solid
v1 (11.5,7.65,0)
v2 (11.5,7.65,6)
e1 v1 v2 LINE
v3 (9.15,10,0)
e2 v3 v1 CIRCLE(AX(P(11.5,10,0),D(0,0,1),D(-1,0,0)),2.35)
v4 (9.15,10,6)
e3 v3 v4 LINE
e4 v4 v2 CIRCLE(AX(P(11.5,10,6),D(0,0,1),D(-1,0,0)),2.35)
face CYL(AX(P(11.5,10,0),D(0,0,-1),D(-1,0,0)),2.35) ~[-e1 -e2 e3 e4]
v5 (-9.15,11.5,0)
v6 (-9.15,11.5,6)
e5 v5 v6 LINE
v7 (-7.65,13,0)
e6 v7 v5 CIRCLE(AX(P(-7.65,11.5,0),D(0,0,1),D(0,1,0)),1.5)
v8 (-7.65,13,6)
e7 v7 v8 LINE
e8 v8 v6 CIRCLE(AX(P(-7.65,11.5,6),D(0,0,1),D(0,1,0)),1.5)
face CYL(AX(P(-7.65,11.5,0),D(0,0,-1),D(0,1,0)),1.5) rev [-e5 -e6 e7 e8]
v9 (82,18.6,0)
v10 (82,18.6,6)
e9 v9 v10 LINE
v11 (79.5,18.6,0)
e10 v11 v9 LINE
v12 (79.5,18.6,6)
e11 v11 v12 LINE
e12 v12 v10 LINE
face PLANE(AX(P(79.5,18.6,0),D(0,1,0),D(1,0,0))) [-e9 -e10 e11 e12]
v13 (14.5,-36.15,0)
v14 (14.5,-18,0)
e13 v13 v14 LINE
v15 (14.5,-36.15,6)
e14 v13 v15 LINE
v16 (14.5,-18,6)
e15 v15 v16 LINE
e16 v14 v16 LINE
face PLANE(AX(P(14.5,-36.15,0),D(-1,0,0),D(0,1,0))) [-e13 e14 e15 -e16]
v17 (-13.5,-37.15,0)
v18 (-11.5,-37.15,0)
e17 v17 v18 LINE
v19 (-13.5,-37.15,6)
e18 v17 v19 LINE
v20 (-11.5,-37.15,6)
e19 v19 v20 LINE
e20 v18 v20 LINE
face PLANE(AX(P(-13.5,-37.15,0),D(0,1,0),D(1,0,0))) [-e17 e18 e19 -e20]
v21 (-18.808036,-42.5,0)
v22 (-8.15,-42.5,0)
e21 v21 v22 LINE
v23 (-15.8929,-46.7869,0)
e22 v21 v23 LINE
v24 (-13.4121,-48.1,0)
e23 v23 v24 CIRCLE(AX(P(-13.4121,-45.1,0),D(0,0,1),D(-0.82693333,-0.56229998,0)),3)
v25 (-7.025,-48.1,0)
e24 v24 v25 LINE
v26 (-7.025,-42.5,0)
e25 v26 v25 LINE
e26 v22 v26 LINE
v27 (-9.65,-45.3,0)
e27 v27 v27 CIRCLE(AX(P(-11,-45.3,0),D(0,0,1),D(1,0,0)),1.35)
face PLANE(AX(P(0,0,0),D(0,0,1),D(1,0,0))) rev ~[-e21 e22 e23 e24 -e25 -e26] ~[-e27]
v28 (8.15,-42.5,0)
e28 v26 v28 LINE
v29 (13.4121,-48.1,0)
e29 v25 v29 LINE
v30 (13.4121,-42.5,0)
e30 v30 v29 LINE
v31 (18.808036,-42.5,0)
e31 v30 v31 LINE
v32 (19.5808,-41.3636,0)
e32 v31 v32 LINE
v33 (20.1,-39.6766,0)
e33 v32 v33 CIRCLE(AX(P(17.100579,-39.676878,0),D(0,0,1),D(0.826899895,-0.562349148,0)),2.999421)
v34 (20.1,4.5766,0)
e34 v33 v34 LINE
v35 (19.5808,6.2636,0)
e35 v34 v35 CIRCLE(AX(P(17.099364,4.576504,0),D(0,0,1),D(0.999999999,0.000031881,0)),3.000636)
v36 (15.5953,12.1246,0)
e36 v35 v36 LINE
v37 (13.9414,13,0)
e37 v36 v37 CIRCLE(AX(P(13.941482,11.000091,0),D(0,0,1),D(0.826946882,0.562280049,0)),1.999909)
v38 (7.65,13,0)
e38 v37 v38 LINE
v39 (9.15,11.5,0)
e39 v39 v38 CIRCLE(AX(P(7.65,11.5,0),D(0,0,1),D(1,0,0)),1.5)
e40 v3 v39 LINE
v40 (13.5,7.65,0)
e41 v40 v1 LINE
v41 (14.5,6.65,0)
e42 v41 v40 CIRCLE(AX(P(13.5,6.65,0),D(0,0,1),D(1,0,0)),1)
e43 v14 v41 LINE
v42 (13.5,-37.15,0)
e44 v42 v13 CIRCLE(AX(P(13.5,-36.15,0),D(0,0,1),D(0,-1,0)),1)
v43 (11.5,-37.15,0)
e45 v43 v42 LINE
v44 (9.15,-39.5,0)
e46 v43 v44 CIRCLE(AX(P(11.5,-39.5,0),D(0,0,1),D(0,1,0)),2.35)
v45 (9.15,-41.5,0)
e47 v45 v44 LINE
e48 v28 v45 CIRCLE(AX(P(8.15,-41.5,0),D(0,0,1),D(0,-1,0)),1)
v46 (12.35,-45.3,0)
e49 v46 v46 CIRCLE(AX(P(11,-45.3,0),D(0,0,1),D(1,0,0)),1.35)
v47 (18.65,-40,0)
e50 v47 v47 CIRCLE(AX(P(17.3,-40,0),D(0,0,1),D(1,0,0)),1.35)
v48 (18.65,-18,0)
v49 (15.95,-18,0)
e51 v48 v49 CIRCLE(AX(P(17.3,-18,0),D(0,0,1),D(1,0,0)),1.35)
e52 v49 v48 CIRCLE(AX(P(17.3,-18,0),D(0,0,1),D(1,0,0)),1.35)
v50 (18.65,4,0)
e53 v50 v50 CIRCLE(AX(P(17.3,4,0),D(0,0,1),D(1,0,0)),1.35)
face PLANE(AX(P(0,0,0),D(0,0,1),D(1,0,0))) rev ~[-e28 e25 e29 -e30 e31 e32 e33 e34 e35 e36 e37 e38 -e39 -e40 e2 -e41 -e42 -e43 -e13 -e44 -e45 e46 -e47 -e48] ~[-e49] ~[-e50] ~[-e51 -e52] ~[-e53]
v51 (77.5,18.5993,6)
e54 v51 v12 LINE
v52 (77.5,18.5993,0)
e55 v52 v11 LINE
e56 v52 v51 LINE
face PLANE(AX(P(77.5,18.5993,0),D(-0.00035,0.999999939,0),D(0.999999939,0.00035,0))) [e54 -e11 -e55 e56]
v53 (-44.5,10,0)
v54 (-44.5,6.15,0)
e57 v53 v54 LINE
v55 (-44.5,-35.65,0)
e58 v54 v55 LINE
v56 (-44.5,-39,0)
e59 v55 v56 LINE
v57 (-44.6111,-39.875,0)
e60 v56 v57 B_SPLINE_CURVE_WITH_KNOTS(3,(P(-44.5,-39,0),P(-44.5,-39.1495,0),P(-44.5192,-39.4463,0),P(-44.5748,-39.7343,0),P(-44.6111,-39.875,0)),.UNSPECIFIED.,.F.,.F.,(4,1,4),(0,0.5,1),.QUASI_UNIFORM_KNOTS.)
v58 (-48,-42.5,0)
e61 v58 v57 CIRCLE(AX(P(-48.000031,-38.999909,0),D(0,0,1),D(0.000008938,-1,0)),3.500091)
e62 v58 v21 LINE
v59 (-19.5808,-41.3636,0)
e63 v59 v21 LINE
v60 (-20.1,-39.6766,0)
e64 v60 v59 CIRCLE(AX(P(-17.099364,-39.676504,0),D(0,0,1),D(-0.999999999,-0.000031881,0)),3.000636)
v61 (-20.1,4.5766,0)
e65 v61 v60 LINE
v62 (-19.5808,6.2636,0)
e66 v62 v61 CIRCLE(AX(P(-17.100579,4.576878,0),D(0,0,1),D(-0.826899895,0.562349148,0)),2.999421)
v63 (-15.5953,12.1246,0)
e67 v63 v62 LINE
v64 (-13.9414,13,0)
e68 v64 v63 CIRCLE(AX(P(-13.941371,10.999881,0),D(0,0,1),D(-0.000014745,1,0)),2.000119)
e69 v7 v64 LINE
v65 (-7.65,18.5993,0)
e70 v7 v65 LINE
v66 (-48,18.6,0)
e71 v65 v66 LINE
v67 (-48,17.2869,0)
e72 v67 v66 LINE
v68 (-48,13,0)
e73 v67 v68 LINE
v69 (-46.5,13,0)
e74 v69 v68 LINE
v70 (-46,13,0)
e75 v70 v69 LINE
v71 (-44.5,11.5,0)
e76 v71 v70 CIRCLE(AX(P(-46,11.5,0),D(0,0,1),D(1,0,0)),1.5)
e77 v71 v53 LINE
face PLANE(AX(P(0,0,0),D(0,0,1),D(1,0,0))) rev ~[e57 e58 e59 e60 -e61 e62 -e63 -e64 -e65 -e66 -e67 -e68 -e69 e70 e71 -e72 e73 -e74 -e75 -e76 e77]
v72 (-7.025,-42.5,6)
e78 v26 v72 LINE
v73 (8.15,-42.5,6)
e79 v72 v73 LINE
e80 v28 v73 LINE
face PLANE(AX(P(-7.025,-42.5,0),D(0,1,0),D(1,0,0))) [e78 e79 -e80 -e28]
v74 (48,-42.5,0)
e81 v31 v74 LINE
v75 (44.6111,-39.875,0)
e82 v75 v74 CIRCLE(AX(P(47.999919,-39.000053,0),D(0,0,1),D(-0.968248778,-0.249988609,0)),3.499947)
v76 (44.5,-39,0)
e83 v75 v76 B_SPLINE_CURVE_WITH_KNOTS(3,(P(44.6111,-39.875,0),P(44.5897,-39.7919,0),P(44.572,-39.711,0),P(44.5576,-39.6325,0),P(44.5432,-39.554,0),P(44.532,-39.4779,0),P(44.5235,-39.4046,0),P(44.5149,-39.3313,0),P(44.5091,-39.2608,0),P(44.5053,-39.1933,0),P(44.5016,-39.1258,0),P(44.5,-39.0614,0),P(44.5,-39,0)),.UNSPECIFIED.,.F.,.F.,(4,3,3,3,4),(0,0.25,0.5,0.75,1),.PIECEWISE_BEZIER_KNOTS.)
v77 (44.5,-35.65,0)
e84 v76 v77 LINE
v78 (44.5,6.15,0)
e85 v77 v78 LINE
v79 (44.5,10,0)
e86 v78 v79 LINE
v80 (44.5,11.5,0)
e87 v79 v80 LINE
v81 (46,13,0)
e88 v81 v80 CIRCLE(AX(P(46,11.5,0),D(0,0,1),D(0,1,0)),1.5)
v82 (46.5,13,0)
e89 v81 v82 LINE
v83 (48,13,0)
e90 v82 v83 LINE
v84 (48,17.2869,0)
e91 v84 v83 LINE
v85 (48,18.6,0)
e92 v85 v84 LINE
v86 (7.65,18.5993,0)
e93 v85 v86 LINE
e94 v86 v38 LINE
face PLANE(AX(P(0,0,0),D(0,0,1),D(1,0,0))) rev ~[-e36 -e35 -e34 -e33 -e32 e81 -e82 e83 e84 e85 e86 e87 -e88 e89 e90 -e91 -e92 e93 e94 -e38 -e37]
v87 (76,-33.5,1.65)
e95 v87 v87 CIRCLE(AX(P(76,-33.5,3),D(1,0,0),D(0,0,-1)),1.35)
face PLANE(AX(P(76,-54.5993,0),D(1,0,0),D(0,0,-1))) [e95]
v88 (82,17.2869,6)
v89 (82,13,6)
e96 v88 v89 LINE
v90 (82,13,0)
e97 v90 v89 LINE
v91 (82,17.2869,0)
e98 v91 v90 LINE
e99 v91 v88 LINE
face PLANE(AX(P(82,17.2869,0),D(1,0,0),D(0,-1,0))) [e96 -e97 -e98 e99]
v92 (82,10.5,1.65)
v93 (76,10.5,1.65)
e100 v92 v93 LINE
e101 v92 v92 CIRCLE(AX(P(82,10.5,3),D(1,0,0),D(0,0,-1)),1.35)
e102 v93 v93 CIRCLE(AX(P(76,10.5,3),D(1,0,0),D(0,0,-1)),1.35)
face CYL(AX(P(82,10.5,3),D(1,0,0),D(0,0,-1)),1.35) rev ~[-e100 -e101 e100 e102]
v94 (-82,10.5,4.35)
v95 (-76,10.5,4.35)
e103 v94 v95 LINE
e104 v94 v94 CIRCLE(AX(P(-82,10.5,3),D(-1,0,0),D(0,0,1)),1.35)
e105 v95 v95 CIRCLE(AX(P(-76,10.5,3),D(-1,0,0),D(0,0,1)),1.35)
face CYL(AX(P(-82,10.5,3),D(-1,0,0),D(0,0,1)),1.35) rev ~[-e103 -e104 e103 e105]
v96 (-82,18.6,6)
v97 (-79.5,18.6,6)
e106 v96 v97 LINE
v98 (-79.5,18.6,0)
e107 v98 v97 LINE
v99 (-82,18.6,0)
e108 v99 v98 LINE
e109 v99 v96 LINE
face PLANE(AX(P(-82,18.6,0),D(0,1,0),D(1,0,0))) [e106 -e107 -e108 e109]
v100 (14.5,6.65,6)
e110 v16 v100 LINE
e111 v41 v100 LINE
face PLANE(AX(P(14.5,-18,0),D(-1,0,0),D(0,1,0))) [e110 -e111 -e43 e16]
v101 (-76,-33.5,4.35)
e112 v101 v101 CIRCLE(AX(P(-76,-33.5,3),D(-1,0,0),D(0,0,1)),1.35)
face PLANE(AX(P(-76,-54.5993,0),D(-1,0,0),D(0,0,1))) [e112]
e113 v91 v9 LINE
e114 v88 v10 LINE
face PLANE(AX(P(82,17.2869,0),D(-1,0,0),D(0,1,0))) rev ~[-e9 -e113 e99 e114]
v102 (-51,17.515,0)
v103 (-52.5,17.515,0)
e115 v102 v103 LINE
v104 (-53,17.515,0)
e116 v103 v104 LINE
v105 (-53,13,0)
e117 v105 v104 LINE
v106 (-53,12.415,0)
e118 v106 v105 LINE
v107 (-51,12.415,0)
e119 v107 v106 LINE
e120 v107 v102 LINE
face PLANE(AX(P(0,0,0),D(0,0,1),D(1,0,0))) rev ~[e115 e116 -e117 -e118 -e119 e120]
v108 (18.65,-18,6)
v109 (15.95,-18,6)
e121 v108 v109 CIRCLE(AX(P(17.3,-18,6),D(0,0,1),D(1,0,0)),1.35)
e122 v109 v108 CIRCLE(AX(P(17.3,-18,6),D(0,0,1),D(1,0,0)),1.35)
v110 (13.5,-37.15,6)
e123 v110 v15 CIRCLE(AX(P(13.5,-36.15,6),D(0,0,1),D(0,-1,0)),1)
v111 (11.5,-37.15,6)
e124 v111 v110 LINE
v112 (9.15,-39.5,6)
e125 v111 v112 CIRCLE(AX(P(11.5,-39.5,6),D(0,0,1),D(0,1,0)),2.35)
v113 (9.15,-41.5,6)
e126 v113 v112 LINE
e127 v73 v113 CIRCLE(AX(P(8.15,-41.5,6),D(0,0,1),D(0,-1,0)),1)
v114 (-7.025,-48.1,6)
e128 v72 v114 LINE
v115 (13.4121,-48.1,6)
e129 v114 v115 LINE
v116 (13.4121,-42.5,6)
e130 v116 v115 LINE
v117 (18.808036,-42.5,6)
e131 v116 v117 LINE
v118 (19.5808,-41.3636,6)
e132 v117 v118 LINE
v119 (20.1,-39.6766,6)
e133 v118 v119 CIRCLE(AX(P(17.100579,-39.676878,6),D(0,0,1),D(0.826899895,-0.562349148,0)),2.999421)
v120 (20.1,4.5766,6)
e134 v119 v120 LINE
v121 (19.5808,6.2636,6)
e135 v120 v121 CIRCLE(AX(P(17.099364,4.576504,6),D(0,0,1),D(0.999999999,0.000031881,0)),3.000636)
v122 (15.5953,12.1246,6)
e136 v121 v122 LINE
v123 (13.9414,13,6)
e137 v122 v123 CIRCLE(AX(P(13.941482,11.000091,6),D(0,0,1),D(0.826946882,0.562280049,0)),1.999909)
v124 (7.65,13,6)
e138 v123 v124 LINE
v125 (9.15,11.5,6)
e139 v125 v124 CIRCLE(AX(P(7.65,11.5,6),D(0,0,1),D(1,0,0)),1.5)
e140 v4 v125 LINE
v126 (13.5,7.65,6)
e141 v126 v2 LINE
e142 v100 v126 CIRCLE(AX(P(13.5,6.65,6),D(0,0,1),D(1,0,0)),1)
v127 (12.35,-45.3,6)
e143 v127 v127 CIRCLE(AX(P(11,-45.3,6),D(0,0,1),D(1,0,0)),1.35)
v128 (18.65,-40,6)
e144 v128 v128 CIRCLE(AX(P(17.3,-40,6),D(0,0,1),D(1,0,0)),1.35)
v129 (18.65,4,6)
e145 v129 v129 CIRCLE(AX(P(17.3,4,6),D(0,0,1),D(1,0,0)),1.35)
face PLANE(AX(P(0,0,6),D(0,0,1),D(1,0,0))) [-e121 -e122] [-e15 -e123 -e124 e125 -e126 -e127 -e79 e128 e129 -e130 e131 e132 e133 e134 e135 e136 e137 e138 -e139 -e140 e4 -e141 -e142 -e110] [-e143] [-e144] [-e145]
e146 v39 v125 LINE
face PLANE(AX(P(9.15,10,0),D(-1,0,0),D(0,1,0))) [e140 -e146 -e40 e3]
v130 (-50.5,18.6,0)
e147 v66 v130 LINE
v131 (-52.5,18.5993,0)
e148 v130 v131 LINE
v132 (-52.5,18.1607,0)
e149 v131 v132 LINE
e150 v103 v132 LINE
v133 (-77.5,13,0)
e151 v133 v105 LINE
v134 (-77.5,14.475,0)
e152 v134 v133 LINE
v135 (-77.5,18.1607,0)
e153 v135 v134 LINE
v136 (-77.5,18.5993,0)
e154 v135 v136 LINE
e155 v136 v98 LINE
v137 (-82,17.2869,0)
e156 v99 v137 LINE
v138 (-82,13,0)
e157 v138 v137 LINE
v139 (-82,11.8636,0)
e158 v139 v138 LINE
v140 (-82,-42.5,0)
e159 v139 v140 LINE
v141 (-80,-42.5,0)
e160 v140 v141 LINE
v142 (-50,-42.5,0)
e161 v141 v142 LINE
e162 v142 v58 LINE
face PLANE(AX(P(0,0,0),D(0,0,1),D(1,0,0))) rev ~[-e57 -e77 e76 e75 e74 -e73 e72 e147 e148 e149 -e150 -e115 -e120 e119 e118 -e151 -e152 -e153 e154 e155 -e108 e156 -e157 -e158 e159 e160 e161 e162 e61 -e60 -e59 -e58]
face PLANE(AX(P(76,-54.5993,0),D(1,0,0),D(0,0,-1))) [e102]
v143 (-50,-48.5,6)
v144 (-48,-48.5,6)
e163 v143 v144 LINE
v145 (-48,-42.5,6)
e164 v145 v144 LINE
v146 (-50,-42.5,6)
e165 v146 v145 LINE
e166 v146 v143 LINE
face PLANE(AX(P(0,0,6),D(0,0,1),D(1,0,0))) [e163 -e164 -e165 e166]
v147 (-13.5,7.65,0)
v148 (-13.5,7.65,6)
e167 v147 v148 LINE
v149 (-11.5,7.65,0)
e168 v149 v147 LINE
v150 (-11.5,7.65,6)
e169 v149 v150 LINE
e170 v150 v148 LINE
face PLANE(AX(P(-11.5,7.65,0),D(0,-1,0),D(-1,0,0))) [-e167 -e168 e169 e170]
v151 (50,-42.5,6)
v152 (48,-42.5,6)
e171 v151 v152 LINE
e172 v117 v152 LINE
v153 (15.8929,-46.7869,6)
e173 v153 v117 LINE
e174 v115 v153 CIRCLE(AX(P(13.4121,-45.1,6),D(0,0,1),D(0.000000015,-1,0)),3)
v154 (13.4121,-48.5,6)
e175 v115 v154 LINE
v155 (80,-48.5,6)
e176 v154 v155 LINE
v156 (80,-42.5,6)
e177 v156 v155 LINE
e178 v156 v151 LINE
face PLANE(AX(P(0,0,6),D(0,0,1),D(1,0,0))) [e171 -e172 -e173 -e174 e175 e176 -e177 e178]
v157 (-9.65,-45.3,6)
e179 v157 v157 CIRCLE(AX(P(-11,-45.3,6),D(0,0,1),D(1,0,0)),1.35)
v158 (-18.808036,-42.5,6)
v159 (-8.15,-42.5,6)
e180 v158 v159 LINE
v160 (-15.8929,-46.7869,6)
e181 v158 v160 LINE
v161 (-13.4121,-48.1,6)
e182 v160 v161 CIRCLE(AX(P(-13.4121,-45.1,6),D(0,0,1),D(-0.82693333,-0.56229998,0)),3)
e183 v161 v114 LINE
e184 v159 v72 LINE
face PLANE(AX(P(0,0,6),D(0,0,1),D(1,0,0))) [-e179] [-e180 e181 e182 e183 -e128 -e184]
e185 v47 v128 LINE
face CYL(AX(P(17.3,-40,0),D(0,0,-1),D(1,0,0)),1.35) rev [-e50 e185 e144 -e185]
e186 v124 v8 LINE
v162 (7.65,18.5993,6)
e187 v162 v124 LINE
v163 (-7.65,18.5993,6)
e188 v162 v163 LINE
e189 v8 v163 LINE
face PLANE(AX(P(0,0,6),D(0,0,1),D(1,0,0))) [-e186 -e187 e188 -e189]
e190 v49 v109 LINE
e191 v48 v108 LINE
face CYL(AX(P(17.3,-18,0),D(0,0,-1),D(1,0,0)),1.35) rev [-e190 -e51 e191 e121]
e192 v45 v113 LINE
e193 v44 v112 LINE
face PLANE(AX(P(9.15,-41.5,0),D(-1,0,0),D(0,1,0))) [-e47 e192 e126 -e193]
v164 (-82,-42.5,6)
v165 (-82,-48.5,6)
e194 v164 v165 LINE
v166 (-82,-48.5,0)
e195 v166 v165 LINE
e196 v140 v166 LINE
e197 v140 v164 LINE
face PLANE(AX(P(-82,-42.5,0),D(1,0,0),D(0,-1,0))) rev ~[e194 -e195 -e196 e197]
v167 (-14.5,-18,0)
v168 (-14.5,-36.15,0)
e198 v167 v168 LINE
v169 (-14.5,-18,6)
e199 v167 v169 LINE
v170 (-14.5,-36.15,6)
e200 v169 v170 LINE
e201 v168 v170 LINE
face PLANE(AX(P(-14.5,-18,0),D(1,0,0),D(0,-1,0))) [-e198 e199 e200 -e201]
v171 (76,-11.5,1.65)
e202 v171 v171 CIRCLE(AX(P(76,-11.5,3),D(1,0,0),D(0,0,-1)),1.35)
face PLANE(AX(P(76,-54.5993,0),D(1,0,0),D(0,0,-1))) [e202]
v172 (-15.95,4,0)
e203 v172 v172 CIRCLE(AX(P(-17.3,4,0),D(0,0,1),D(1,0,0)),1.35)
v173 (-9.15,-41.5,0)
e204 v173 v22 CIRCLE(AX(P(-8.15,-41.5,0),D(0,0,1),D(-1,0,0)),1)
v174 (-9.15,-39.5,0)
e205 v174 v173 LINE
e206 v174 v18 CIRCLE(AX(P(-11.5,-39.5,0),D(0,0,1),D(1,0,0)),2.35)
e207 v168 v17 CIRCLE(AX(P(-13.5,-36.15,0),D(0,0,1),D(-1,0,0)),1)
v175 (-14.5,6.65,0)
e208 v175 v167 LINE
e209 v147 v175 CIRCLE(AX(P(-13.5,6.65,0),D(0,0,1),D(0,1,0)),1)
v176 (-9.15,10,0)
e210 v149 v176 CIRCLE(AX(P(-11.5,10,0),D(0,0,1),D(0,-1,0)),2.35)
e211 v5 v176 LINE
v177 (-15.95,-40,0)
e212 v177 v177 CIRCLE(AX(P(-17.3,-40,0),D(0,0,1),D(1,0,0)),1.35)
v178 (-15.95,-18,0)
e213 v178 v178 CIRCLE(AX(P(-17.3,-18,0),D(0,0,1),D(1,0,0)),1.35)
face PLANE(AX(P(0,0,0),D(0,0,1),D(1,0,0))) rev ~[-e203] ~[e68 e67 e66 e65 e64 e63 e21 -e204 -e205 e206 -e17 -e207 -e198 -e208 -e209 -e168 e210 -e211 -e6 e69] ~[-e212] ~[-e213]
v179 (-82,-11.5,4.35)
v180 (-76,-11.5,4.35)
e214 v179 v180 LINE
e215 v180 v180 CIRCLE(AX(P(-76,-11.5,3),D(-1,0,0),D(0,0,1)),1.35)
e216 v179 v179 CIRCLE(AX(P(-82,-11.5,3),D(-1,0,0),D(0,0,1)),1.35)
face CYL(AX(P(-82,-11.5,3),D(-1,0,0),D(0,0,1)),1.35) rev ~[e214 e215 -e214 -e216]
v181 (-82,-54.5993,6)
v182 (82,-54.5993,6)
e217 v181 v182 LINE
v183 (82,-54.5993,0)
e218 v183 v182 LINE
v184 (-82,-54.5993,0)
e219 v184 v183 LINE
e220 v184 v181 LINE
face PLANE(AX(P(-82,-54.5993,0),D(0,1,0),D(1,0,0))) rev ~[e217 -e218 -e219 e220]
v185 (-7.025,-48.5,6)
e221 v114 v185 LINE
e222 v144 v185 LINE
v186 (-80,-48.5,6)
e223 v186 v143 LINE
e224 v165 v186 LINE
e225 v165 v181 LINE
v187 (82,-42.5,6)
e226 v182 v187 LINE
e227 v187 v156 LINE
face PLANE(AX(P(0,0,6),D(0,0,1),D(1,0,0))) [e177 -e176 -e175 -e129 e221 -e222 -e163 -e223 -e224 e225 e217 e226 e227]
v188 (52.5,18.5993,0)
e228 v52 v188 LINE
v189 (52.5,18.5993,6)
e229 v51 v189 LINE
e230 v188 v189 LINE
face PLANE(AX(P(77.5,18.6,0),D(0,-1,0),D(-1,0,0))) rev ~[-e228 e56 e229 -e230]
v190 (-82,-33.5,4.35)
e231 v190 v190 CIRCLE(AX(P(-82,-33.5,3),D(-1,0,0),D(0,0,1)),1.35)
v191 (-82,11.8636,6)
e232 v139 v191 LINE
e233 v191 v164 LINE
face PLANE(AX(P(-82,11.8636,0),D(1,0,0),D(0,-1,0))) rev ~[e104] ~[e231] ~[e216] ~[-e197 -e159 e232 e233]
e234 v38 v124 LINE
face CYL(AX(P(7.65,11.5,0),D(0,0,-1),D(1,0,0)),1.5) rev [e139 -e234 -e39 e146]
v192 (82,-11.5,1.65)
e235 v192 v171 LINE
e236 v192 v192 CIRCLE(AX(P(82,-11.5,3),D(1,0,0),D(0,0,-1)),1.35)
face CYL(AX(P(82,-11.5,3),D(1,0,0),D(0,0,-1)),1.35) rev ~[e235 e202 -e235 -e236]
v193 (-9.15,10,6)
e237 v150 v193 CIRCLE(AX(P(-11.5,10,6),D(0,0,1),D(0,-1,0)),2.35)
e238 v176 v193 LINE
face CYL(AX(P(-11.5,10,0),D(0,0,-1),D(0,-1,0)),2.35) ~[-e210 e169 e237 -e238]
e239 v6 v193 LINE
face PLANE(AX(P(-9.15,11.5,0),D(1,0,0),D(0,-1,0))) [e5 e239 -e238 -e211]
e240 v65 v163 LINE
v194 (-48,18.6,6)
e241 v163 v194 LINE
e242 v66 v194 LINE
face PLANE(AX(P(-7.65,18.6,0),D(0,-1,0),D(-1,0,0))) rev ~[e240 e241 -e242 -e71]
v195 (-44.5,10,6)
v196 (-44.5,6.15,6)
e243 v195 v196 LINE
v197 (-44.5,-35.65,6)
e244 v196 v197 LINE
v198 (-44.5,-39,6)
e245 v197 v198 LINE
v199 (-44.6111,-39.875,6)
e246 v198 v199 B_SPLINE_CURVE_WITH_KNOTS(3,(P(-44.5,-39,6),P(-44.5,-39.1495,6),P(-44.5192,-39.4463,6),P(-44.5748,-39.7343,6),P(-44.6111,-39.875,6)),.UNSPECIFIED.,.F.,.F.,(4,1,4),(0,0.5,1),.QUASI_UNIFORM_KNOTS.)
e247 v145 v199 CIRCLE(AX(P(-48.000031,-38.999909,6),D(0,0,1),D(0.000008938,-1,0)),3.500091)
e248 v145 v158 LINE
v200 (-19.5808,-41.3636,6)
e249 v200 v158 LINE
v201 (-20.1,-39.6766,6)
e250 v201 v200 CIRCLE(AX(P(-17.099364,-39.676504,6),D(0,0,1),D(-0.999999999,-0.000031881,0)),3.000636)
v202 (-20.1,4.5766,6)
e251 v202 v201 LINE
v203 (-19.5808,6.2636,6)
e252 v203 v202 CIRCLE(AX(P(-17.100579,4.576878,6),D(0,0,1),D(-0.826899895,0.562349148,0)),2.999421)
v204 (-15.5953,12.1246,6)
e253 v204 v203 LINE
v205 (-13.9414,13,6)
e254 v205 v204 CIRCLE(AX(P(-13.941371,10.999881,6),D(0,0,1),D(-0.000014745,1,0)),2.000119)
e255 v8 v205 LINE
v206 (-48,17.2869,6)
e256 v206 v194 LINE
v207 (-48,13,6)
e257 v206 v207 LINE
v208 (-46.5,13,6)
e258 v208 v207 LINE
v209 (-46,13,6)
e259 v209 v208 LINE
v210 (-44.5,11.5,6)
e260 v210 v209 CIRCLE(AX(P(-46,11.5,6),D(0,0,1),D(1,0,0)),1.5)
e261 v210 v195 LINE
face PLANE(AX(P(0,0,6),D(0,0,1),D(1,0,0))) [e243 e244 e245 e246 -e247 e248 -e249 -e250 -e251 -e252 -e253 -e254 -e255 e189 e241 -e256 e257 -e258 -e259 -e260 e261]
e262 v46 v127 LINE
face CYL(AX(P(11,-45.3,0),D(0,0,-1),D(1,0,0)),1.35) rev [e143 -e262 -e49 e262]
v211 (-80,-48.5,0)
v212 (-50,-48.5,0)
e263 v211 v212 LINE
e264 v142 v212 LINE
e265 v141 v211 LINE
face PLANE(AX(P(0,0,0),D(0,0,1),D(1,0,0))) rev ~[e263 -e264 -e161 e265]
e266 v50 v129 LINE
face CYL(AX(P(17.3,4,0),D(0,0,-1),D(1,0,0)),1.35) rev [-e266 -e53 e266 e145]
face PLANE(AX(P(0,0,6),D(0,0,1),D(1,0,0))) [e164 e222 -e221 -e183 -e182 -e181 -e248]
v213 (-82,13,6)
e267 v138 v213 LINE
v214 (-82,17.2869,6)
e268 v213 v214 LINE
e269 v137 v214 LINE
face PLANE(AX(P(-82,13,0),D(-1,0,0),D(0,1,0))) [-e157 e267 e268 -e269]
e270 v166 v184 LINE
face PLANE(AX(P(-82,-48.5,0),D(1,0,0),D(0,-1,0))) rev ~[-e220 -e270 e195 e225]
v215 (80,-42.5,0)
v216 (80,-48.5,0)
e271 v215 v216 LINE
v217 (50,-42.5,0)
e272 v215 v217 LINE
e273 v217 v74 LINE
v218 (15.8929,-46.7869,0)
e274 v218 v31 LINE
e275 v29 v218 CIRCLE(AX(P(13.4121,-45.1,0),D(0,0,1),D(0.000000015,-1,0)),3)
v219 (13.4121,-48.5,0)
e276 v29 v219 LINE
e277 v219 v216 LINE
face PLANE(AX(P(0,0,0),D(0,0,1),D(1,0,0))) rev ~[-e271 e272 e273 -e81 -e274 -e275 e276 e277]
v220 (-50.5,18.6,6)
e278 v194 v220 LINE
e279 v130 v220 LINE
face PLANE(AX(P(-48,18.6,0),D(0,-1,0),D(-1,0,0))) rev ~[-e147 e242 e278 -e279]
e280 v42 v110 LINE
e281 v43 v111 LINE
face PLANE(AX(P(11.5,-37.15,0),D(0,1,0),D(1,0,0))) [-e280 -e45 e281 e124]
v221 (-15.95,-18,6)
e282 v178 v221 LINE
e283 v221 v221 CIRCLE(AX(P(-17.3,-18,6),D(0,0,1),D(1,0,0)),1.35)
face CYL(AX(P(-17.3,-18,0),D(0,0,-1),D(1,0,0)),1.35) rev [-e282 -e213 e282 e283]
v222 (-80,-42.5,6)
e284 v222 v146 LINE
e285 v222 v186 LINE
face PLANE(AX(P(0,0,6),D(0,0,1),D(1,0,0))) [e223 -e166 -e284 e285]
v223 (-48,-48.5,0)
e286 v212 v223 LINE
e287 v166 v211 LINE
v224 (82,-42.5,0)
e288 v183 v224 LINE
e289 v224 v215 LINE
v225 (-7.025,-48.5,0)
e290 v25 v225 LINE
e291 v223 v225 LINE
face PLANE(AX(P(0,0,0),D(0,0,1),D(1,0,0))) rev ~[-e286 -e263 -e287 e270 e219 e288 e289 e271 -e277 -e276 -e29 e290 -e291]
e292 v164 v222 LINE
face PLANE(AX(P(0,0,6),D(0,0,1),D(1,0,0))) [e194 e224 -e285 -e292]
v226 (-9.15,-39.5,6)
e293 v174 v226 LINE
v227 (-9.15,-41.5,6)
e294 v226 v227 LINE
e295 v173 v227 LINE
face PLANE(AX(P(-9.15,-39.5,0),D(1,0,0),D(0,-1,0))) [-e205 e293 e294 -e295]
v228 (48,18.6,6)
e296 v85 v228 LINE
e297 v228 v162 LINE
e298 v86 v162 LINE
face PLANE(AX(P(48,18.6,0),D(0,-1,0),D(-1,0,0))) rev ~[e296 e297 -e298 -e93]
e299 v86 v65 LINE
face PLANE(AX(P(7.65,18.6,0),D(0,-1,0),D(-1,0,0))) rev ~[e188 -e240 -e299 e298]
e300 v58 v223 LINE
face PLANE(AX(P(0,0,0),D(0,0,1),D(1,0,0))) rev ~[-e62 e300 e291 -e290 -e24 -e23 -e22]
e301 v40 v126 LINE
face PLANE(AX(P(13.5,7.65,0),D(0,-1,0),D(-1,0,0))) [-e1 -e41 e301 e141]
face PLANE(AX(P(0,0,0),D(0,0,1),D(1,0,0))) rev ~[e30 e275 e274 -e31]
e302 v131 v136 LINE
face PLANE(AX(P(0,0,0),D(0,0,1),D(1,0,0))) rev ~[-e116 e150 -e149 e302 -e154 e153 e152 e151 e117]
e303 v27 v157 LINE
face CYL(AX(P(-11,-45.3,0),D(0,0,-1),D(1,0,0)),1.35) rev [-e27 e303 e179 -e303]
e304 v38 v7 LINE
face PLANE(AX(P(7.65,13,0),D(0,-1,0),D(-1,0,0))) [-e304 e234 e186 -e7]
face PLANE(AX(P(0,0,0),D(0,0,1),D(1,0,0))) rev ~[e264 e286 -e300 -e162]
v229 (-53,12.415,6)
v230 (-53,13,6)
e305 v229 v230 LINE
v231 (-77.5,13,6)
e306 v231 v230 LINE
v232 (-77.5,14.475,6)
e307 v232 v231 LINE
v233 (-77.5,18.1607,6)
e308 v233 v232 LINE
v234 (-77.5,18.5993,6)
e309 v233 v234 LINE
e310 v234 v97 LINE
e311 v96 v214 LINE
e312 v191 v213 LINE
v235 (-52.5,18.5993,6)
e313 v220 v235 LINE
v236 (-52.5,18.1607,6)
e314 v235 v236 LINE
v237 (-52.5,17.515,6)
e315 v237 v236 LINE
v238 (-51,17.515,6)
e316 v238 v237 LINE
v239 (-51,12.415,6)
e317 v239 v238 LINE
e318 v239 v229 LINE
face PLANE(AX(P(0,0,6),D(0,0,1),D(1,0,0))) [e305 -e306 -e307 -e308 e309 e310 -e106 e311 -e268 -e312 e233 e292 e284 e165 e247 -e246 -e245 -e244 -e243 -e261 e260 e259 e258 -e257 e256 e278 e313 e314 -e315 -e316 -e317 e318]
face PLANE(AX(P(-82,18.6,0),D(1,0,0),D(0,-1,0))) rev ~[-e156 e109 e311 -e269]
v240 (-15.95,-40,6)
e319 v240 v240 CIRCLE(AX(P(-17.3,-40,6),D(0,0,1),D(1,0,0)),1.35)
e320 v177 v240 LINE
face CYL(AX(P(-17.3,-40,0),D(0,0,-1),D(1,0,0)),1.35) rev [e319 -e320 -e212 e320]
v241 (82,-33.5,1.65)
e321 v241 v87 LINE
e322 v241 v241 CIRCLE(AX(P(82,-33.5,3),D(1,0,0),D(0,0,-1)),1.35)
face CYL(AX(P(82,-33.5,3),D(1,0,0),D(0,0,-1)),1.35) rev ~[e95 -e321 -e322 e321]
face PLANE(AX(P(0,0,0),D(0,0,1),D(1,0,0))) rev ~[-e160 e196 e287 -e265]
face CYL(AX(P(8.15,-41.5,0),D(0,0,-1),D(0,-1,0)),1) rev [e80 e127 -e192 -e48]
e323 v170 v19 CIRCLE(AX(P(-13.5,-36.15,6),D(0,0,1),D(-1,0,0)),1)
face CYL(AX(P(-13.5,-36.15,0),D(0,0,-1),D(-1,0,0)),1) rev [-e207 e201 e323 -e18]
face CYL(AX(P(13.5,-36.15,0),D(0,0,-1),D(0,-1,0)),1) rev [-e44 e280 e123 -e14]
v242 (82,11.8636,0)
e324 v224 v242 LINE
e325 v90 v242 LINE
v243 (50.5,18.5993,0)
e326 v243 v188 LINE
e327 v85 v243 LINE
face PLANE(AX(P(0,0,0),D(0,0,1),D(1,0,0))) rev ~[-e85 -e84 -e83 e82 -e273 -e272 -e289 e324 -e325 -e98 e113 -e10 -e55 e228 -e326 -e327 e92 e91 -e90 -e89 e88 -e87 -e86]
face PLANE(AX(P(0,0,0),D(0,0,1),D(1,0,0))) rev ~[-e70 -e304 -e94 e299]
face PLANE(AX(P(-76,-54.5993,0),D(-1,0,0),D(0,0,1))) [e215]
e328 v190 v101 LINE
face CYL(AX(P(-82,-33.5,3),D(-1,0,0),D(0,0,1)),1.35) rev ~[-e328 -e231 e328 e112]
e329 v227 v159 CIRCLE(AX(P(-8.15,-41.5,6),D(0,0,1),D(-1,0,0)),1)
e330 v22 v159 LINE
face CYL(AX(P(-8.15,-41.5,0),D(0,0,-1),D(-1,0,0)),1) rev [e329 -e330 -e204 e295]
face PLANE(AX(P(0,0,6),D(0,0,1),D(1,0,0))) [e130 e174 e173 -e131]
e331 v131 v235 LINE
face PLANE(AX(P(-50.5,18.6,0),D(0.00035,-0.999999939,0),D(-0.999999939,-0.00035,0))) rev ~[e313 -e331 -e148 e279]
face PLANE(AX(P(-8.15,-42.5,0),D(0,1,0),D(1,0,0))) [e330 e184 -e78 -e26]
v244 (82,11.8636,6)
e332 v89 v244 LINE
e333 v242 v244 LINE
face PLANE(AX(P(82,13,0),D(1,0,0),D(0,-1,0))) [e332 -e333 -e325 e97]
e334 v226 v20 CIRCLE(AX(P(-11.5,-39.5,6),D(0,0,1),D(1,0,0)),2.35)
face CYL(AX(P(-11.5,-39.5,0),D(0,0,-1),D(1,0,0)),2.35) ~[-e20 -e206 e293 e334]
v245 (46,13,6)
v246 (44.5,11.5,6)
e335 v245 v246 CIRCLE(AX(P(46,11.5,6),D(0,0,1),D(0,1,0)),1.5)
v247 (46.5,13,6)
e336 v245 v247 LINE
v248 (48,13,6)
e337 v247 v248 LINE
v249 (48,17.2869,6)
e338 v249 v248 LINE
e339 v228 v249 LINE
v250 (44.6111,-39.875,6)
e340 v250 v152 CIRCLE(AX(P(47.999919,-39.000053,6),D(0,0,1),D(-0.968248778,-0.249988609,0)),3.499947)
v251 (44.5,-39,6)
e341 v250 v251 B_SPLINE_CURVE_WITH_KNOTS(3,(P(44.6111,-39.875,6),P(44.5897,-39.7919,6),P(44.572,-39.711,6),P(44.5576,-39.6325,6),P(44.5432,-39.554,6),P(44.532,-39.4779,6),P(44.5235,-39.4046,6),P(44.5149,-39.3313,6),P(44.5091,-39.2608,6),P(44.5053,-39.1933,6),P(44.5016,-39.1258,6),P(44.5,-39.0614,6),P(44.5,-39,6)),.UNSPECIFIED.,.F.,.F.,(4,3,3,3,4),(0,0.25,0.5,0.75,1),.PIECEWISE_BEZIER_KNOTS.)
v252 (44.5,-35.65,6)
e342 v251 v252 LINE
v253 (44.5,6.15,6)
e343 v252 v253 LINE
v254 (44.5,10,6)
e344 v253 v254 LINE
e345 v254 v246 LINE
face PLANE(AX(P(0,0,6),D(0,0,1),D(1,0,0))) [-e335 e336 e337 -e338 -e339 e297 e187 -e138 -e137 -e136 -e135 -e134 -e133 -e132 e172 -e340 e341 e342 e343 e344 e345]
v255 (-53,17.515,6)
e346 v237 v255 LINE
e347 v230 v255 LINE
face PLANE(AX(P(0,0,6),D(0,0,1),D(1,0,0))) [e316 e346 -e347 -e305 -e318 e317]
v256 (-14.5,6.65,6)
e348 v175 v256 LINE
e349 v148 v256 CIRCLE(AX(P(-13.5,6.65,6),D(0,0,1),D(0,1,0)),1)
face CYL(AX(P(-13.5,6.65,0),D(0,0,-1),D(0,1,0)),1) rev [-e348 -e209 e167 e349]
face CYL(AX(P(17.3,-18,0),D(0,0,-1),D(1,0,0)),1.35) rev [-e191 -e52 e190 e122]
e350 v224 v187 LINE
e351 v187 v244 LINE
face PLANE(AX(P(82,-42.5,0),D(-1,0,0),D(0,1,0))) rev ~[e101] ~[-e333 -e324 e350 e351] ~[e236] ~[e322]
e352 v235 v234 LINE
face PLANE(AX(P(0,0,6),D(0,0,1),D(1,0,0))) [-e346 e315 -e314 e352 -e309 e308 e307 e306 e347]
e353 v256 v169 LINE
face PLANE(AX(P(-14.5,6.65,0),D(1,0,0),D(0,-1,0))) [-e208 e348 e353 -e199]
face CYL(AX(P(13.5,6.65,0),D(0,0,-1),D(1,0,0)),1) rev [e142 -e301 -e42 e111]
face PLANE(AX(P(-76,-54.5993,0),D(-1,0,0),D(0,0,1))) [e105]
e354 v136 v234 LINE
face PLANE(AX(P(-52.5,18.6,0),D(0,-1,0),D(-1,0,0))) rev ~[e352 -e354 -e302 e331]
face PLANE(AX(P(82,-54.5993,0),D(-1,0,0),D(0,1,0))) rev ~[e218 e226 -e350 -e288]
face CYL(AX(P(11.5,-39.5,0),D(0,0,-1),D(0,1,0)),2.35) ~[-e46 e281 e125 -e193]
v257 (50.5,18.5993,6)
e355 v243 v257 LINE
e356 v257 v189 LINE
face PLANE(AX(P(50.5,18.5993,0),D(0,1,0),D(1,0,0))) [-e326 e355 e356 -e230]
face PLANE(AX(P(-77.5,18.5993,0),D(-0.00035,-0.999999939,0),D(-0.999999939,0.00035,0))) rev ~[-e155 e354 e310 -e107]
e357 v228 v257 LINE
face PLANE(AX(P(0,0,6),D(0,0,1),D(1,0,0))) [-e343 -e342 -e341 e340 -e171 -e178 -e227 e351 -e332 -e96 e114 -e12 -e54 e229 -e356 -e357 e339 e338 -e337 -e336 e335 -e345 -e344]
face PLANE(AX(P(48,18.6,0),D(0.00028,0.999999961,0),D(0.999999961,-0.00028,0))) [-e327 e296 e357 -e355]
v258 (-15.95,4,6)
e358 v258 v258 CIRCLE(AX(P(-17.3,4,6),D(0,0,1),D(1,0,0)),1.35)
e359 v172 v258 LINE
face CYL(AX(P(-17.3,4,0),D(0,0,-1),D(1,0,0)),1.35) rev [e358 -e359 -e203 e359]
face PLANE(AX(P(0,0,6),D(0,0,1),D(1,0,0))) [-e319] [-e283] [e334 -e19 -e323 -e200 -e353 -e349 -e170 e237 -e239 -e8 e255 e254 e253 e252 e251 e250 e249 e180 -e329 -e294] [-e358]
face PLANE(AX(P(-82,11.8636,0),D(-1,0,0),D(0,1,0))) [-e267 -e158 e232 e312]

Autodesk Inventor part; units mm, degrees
ref_plane "YZ Plane" through (0, 0, 0) normal (1, 0, 0) x (0, 1, 0)
ref_plane "XZ Plane" through (0, 0, 0) normal (0, 1, 0) x (-1, 0, 0)
ref_plane "XY Plane" through (0, 0, 0) normal (0, 0, 1) x (1, 0, 0)
ref_plane "작업 평면1" through (0, 0, 0) normal (0, 0, 1) x (1, 0, 0)
ref_plane "작업 평면2" through (0, 0, 0) normal (0, 0, 1) x (1, 0, 0)
sketch "스케치2" plane through (0, 0, 0) normal (0, 0, 1) x (1, 0, 0)
  arc A0 (20.1, 4.5766) -> (19.5808, 6.2636) centre (17.1, 4.5766) ccw projected
  line L0 (20.1, -39.6766) -> (20.1, 4.5766) projected
  arc A1 (19.5808, -41.3636) -> (20.1, -39.6766) centre (17.1, -39.6766) ccw projected
  line L1 (15.8929, -46.7869) -> (19.5808, -41.3636) projected
  arc A2 (13.4121, -48.1) -> (15.8929, -46.7869) centre (13.4121, -45.1) ccw projected
  line L2 (-13.4121, -48.1) -> (13.4121, -48.1) projected
  arc A3 (-15.8929, -46.7869) -> (-13.4121, -48.1) centre (-13.4121, -45.1) ccw projected
  line L3 (-19.5808, -41.3636) -> (-15.8929, -46.7869) projected
  arc A4 (-20.1, -39.6766) -> (-19.5808, -41.3636) centre (-17.1, -39.6766) ccw projected
  line L4 (-20.1, 4.5766) -> (-20.1, -39.6766) projected
  arc A5 (-19.5808, 6.2636) -> (-20.1, 4.5766) centre (-17.1, 4.5766) ccw projected
  line L5 (-15.5953, 12.1246) -> (-19.5808, 6.2636) projected
  arc A6 (-13.9414, 13) -> (-15.5953, 12.1246) centre (-13.9414, 11) ccw projected
  line L6 (-7.65, 13) -> (-13.9414, 13) projected
  arc A7 (-7.65, 13) -> (-9.15, 11.5) centre (-7.65, 11.5) ccw projected
  line L7 (-9.15, 11.5) -> (-9.15, 10) projected
  arc A8 (-11.5, 7.65) -> (-9.15, 10) centre (-11.5, 10) ccw projected
  line L8 (-11.5, 7.65) -> (-13.5, 7.65) projected
  arc A9 (-13.5, 7.65) -> (-14.5, 6.65) centre (-13.5, 6.65) ccw projected
  line L9 (-14.5, 6.65) -> (-14.5, -36.15) projected
  arc A10 (-14.5, -36.15) -> (-13.5, -37.15) centre (-13.5, -36.15) ccw projected
  line L10 (-13.5, -37.15) -> (-11.5, -37.15) projected
  arc A11 (-9.15, -39.5) -> (-11.5, -37.15) centre (-11.5, -39.5) ccw projected
  line L11 (-9.15, -39.5) -> (-9.15, -41.5) projected
  arc A12 (-9.15, -41.5) -> (-8.15, -42.5) centre (-8.15, -41.5) ccw projected
  line L12 (-8.15, -42.5) -> (8.15, -42.5) projected
  arc A13 (8.15, -42.5) -> (9.15, -41.5) centre (8.15, -41.5) ccw projected
  line L13 (9.15, -41.5) -> (9.15, -39.5) projected
  arc A14 (11.5, -37.15) -> (9.15, -39.5) centre (11.5, -39.5) ccw projected
  line L14 (11.5, -37.15) -> (13.5, -37.15) projected
  arc A15 (13.5, -37.15) -> (14.5, -36.15) centre (13.5, -36.15) ccw projected
  line L15 (14.5, -36.15) -> (14.5, 6.65) projected
  arc A16 (14.5, 6.65) -> (13.5, 7.65) centre (13.5, 6.65) ccw projected
  line L16 (13.5, 7.65) -> (11.5, 7.65) projected
  arc A17 (9.15, 10) -> (11.5, 7.65) centre (11.5, 10) ccw projected
  line L17 (9.15, 10) -> (9.15, 11.5) projected
  arc A18 (9.15, 11.5) -> (7.65, 13) centre (7.65, 11.5) ccw projected
  line L18 (13.9414, 13) -> (7.65, 13) projected
  arc A19 (15.5953, 12.1246) -> (13.9414, 13) centre (13.9414, 11) ccw projected
  line L19 (19.5808, 6.2636) -> (15.5953, 12.1246) projected
  circle A20 centre (-17.3, 4) radius 1.35 projected
  circle A21 centre (-17.3, -18) radius 1.35 projected
  circle A22 centre (-11, -45.3) radius 1.35 projected
  circle A23 centre (17.3, 4) radius 1.35 projected
  circle A24 centre (17.3, -18) radius 1.35 projected
  circle A25 centre (11, -45.3) radius 1.35 projected
  circle A26 centre (-17.3, -40) radius 1.35 projected
  circle A27 centre (17.3, -40) radius 1.35 projected
  line L20 (17.3, -18) -> (-17.3, -18)
  line L21 (0, 0) -> (0, -18)
  line L22 (80, -42.5) -> (50, -42.5) projected
  line L23 (50, -42.5) -> (48, -42.5) projected
  arc A28 (44.6111, -39.875) -> (48, -42.5) centre (48, -39) ccw projected
  line L24 (44.5, -35.65) -> (44.5, 6.15) projected
  line L25 (44.5, -39) -> (44.5, -35.65) projected
  spline S0 degree 3 poles (44.6111, -39.875) (44.5897, -39.7919) (44.572, -39.711) (44.5576, -39.6325) (44.5432, -39.554) (44.532, -39.4779) (44.5235, -39.4046) (44.5149, -39.3313) (44.5091, -39.2608) (44.5053, -39.1933) (44.5016, -39.1258) (44.5, -39.0614) (44.5, -39) knots 0 0 0 0 0.25 0.25 0.25 0.5 0.5 0.5 0.75 0.75 0.75 1 1 1 1 projected
  line L26 (82, -42.5) -> (80, -42.5) projected
  line L27 (83.5, -42.5) -> (82, -42.5) projected
  arc A29 (83.5, -42.5) -> (85.5, -40.5) centre (83.5, -40.5) ccw projected
  line L28 (85.5, 11.5) -> (85.5, -40.5) projected
  line L29 (82, 17.2869) -> (82, 18.6) projected
  line L30 (79.5, 18.6) -> (82, 18.6) projected
  line L31 (77.5, 18.5993) -> (79.5, 18.5993) projected
  line L32 (77.5, 14.475) -> (77.5, 18.1607) projected
  line L33 (77.5, 18.5993) -> (77.5, 18.1607) projected
  line L34 (82, 17.2869) -> (82, 11.8636) projected
  line L35 (83.5, 13) -> (82, 13) projected
  line L36 (84, 13) -> (83.5, 13) projected
  arc A30 (85.5, 11.5) -> (84, 13) centre (84, 11.5) ccw projected
  line L37 (77.5, 13) -> (52.5, 13) projected
  line L38 (53, 17.515) -> (53, 12.415) projected
  line L39 (48, 17.2869) -> (48, 11.8636) projected
  line L40 (46.5, 13) -> (48, 13) projected
  line L41 (46, 13) -> (46.5, 13) projected
  arc A31 (46, 13) -> (44.5, 11.5) centre (46, 11.5) ccw projected
  line L42 (-80, -42.5) -> (-50, -42.5) projected
  line L43 (-85.5, -40.5) -> (-85.5, 11.5) projected
  line L44 (51, 17.515) -> (53, 17.515) projected
  line L45 (50.5, 18.5993) -> (52.5, 18.5993) projected
  line L46 (48, 18.6) -> (50.5, 18.6) projected
  line L47 (48, 18.6) -> (48, 17.2869) projected
  line L48 (52.5, 18.1607) -> (52.5, 18.5993) projected
  line L49 (52.5, 14.475) -> (52.5, 18.1607) projected
  line L50 (51, 17.515) -> (49.5, 17.515) projected
  line L51 (44.5, 6.15) -> (44.5, 10) projected
  line L52 (44.5, 10) -> (44.5, 11.5) projected
  line L53 (-83.5, 13) -> (-82, 13) projected
  line L54 (-84, 13) -> (-83.5, 13) projected
  arc A32 (-84, 13) -> (-85.5, 11.5) centre (-84, 11.5) ccw projected
  line L55 (-82, 11.8636) -> (-82, 17.2869) projected
  line L56 (-82, 18.6) -> (-82, 17.2869) projected
  line L57 (-82, 18.6) -> (-79.5, 18.6) projected
  line L58 (-77.5, 18.5993) -> (-79.5, 18.5993) projected
  line L59 (-77.5, 18.1607) -> (-77.5, 14.475) projected
  line L60 (-77.5, 18.1607) -> (-77.5, 18.5993) projected
  line L61 (-77.5, 14.475) -> (-77.5, 12.975) projected
  line L62 (-77.5, 13) -> (-52.5, 13) projected
  arc A33 (-85.5, -40.5) -> (-83.5, -42.5) centre (-83.5, -40.5) ccw projected
  line L63 (-82, -42.5) -> (-80, -42.5) projected
  line L64 (-82, -42.5) -> (-83.5, -42.5) projected
  arc A34 (-48, -42.5) -> (-44.6111, -39.875) centre (-48, -39) ccw projected
  line L65 (-50, -42.5) -> (-48, -42.5) projected
  line L66 (-44.5, 6.15) -> (-44.5, -35.65) projected
  line L67 (-44.5, -35.65) -> (-44.5, -39) projected
  spline S1 degree 3 poles (-44.5, -39) (-44.5, -39.1495) (-44.5192, -39.4463) (-44.5748, -39.7343) (-44.6111, -39.875) knots 0 0 0 0 0.5 1 1 1 1 projected
  line L68 (-44.5, 10) -> (-44.5, 6.15) projected
  line L69 (-44.5, 11.5) -> (-44.5, 10) projected
  arc A35 (-44.5, 11.5) -> (-46, 13) centre (-46, 11.5) ccw projected
  line L70 (-46, 13) -> (-46.5, 13) projected
  line L71 (-48, 17.2869) -> (-48, 11.8636) projected
  line L72 (-46.5, 13) -> (-48, 13) projected
  line L73 (-53, 12.415) -> (-53, 17.515) projected
  line L74 (-48, 17.2869) -> (-48, 18.6) projected
  line L75 (-48, 18.6) -> (-50.5, 18.6) projected
  line L76 (-50.5, 18.5993) -> (-52.5, 18.5993) projected
  line L77 (-52.5, 18.5993) -> (-52.5, 18.1607) projected
  line L78 (-52.5, 14.475) -> (-52.5, 18.1607) projected
  line L79 (-51, 17.515) -> (-53, 17.515) projected
  line L80 (-53, 12.415) -> (-53, 17.515) projected
  line L81 (-51, 12.415) -> (-51, 17.515) projected
  line L82 (-51, 12.415) -> (-53, 12.415) projected
  line L83 (-53, 12.415) -> (-53, 17.515) projected
  line L84 (-51, 17.515) -> (-53, 17.515) projected
  line L85 (13.4121, -42.5) -> (80, -42.5) projected
  line L86 (80, -42.5) -> (80, -48.5) projected
  line L87 (13.4121, -48.5) -> (80, -48.5) projected
  line L88 (13.4121, -42.5) -> (13.4121, -48.5) projected
  circle A36 centre (-11, -45.3) radius 1.35 projected
  line L89 (-48, -42.5) -> (-7.025, -42.5) projected
  line L90 (-7.025, -42.5) -> (-7.025, -48.5) projected
  line L91 (-48, -48.5) -> (-7.025, -48.5) projected
  line L92 (-48, -42.5) -> (-48, -48.5) projected
  line L93 (-80, -42.5) -> (-50, -42.5) projected
  line L94 (-50, -42.5) -> (-50, -48.5) projected
  line L95 (-80, -48.5) -> (-50, -48.5) projected
  line L96 (-80, -42.5) -> (-80, -48.5) projected
  line L97 (-50, -42.5) -> (-48, -42.5) projected
  line L98 (-48, -42.5) -> (-48, -48.5) projected
  line L99 (-50, -48.5) -> (-48, -48.5) projected
  line L100 (-50, -42.5) -> (-50, -48.5) projected
  line L101 (-82, -42.5) -> (-80, -42.5) projected
  line L102 (-80, -42.5) -> (-80, -48.5) projected
  line L103 (-82, -48.5) -> (-80, -48.5) projected
  line L104 (-82, -42.5) -> (-82, -48.5) projected
  line L105 (82, -54.5993) -> (82, 18.5993)
  line L106 (82, 18.5993) -> (-82, 18.5993)
  line L107 (-82, 18.5993) -> (-82, -54.5993)
  line L108 (-82, -54.5993) -> (82, -54.5993)
  line L109 (82, -54.5993) -> (-82, 18.5993) construction
  line L110 (82, 18.5993) -> (-82, -54.5993) construction
  line L111 (7.65, 13) -> (-7.65, 13)
  line L112 (-7.65, 13) -> (-7.65, 18.5993)
  line L113 (-7.65, 18.5993) -> (7.65, 18.5993)
  line L114 (7.65, 18.5993) -> (7.65, 13)
  point P0 (77.5, 12.975)
  point P1 (82, 18.5993)
extrude "돌출1" add sketch "스케치2" along normal blind 6 contours L0 A1 L1 L85 L88 L2 L90 L12 A13 L13 A14 L14 A15 L15 A16 L16 A17 L17 A18 L18 A19 L19 A0 | A0 L19 A19 L18 L114 L106 L47 L39 L40 L41 A31 L52 L51 L24 L25 S0 A28 L85 L1 A1 L0 | L85 L23 L22 L86 L87 L88 A2 L1 | L1 A2 L88 L85 | L111 L112 L106 L114 | A28 S0 L25 L24 L51 L52 A31 L41 L40 L39 L47 L46 L45 L106 L31 L30 L29 L34 L105 L26 L22 L23 | A7 L7 A8 L8 A9 L9 A10 L10 A11 L11 A12 L89 L3 A4 L4 A5 L5 A6 L6 | L6 A6 L5 A5 L4 A4 L3 L89 A34 S1 L67 L66 L68 L69 A35 L70 L72 L71 L74 L106 L112 | L88 L87 L86 L26 L105 L108 L107 L103 L95 L99 L91 L90 L2 | L90 L91 L92 L89 L3 A3 L2 | L2 A3 L3 L89 L12 L90 | L74 L71 L72 L70 A35 L69 L68 L66 L67 S1 A34 L65 L42 L63 L107 L55 L56 L57 L58 L60 L59 L61 L62 L73 L82 L81 L79 L78 L77 L76 L75 | L99 L94 L65 L92 | L77 L78 L79 L73 L62 L61 L59 L60 L106 | L95 L96 L42 L94 | L103 L104 L63 L96 | L79 L81 L82 L73
sketch "스케치3" plane through (82, -54.5993, 0) normal (1, 0, 0) x (0, 0, -1)
  circle A0 centre (-3, 65.0993) radius 1.35 projected
  circle A1 centre (-3, 43.0993) radius 1.35 projected
  circle A2 centre (-3, 21.0993) radius 1.35 projected
  point P0 (0, 54.5993)
extrude "돌출2" cut sketch "스케치3" against normal blind 6
sketch "스케치4" plane through (-82, -54.5993, 0) normal (-1, 0, 0) x (0, 0, 1)
  circle A0 centre (3, 65.0993) radius 1.35 projected
  circle A1 centre (3, 43.0993) radius 1.35 projected
  circle A2 centre (3, 21.0993) radius 1.35 projected
  point P0 (0, 54.5993)
extrude "돌출3" cut sketch "스케치4" against normal blind 6
properties part number "_newbody1" material "PMMA 플라스틱"
